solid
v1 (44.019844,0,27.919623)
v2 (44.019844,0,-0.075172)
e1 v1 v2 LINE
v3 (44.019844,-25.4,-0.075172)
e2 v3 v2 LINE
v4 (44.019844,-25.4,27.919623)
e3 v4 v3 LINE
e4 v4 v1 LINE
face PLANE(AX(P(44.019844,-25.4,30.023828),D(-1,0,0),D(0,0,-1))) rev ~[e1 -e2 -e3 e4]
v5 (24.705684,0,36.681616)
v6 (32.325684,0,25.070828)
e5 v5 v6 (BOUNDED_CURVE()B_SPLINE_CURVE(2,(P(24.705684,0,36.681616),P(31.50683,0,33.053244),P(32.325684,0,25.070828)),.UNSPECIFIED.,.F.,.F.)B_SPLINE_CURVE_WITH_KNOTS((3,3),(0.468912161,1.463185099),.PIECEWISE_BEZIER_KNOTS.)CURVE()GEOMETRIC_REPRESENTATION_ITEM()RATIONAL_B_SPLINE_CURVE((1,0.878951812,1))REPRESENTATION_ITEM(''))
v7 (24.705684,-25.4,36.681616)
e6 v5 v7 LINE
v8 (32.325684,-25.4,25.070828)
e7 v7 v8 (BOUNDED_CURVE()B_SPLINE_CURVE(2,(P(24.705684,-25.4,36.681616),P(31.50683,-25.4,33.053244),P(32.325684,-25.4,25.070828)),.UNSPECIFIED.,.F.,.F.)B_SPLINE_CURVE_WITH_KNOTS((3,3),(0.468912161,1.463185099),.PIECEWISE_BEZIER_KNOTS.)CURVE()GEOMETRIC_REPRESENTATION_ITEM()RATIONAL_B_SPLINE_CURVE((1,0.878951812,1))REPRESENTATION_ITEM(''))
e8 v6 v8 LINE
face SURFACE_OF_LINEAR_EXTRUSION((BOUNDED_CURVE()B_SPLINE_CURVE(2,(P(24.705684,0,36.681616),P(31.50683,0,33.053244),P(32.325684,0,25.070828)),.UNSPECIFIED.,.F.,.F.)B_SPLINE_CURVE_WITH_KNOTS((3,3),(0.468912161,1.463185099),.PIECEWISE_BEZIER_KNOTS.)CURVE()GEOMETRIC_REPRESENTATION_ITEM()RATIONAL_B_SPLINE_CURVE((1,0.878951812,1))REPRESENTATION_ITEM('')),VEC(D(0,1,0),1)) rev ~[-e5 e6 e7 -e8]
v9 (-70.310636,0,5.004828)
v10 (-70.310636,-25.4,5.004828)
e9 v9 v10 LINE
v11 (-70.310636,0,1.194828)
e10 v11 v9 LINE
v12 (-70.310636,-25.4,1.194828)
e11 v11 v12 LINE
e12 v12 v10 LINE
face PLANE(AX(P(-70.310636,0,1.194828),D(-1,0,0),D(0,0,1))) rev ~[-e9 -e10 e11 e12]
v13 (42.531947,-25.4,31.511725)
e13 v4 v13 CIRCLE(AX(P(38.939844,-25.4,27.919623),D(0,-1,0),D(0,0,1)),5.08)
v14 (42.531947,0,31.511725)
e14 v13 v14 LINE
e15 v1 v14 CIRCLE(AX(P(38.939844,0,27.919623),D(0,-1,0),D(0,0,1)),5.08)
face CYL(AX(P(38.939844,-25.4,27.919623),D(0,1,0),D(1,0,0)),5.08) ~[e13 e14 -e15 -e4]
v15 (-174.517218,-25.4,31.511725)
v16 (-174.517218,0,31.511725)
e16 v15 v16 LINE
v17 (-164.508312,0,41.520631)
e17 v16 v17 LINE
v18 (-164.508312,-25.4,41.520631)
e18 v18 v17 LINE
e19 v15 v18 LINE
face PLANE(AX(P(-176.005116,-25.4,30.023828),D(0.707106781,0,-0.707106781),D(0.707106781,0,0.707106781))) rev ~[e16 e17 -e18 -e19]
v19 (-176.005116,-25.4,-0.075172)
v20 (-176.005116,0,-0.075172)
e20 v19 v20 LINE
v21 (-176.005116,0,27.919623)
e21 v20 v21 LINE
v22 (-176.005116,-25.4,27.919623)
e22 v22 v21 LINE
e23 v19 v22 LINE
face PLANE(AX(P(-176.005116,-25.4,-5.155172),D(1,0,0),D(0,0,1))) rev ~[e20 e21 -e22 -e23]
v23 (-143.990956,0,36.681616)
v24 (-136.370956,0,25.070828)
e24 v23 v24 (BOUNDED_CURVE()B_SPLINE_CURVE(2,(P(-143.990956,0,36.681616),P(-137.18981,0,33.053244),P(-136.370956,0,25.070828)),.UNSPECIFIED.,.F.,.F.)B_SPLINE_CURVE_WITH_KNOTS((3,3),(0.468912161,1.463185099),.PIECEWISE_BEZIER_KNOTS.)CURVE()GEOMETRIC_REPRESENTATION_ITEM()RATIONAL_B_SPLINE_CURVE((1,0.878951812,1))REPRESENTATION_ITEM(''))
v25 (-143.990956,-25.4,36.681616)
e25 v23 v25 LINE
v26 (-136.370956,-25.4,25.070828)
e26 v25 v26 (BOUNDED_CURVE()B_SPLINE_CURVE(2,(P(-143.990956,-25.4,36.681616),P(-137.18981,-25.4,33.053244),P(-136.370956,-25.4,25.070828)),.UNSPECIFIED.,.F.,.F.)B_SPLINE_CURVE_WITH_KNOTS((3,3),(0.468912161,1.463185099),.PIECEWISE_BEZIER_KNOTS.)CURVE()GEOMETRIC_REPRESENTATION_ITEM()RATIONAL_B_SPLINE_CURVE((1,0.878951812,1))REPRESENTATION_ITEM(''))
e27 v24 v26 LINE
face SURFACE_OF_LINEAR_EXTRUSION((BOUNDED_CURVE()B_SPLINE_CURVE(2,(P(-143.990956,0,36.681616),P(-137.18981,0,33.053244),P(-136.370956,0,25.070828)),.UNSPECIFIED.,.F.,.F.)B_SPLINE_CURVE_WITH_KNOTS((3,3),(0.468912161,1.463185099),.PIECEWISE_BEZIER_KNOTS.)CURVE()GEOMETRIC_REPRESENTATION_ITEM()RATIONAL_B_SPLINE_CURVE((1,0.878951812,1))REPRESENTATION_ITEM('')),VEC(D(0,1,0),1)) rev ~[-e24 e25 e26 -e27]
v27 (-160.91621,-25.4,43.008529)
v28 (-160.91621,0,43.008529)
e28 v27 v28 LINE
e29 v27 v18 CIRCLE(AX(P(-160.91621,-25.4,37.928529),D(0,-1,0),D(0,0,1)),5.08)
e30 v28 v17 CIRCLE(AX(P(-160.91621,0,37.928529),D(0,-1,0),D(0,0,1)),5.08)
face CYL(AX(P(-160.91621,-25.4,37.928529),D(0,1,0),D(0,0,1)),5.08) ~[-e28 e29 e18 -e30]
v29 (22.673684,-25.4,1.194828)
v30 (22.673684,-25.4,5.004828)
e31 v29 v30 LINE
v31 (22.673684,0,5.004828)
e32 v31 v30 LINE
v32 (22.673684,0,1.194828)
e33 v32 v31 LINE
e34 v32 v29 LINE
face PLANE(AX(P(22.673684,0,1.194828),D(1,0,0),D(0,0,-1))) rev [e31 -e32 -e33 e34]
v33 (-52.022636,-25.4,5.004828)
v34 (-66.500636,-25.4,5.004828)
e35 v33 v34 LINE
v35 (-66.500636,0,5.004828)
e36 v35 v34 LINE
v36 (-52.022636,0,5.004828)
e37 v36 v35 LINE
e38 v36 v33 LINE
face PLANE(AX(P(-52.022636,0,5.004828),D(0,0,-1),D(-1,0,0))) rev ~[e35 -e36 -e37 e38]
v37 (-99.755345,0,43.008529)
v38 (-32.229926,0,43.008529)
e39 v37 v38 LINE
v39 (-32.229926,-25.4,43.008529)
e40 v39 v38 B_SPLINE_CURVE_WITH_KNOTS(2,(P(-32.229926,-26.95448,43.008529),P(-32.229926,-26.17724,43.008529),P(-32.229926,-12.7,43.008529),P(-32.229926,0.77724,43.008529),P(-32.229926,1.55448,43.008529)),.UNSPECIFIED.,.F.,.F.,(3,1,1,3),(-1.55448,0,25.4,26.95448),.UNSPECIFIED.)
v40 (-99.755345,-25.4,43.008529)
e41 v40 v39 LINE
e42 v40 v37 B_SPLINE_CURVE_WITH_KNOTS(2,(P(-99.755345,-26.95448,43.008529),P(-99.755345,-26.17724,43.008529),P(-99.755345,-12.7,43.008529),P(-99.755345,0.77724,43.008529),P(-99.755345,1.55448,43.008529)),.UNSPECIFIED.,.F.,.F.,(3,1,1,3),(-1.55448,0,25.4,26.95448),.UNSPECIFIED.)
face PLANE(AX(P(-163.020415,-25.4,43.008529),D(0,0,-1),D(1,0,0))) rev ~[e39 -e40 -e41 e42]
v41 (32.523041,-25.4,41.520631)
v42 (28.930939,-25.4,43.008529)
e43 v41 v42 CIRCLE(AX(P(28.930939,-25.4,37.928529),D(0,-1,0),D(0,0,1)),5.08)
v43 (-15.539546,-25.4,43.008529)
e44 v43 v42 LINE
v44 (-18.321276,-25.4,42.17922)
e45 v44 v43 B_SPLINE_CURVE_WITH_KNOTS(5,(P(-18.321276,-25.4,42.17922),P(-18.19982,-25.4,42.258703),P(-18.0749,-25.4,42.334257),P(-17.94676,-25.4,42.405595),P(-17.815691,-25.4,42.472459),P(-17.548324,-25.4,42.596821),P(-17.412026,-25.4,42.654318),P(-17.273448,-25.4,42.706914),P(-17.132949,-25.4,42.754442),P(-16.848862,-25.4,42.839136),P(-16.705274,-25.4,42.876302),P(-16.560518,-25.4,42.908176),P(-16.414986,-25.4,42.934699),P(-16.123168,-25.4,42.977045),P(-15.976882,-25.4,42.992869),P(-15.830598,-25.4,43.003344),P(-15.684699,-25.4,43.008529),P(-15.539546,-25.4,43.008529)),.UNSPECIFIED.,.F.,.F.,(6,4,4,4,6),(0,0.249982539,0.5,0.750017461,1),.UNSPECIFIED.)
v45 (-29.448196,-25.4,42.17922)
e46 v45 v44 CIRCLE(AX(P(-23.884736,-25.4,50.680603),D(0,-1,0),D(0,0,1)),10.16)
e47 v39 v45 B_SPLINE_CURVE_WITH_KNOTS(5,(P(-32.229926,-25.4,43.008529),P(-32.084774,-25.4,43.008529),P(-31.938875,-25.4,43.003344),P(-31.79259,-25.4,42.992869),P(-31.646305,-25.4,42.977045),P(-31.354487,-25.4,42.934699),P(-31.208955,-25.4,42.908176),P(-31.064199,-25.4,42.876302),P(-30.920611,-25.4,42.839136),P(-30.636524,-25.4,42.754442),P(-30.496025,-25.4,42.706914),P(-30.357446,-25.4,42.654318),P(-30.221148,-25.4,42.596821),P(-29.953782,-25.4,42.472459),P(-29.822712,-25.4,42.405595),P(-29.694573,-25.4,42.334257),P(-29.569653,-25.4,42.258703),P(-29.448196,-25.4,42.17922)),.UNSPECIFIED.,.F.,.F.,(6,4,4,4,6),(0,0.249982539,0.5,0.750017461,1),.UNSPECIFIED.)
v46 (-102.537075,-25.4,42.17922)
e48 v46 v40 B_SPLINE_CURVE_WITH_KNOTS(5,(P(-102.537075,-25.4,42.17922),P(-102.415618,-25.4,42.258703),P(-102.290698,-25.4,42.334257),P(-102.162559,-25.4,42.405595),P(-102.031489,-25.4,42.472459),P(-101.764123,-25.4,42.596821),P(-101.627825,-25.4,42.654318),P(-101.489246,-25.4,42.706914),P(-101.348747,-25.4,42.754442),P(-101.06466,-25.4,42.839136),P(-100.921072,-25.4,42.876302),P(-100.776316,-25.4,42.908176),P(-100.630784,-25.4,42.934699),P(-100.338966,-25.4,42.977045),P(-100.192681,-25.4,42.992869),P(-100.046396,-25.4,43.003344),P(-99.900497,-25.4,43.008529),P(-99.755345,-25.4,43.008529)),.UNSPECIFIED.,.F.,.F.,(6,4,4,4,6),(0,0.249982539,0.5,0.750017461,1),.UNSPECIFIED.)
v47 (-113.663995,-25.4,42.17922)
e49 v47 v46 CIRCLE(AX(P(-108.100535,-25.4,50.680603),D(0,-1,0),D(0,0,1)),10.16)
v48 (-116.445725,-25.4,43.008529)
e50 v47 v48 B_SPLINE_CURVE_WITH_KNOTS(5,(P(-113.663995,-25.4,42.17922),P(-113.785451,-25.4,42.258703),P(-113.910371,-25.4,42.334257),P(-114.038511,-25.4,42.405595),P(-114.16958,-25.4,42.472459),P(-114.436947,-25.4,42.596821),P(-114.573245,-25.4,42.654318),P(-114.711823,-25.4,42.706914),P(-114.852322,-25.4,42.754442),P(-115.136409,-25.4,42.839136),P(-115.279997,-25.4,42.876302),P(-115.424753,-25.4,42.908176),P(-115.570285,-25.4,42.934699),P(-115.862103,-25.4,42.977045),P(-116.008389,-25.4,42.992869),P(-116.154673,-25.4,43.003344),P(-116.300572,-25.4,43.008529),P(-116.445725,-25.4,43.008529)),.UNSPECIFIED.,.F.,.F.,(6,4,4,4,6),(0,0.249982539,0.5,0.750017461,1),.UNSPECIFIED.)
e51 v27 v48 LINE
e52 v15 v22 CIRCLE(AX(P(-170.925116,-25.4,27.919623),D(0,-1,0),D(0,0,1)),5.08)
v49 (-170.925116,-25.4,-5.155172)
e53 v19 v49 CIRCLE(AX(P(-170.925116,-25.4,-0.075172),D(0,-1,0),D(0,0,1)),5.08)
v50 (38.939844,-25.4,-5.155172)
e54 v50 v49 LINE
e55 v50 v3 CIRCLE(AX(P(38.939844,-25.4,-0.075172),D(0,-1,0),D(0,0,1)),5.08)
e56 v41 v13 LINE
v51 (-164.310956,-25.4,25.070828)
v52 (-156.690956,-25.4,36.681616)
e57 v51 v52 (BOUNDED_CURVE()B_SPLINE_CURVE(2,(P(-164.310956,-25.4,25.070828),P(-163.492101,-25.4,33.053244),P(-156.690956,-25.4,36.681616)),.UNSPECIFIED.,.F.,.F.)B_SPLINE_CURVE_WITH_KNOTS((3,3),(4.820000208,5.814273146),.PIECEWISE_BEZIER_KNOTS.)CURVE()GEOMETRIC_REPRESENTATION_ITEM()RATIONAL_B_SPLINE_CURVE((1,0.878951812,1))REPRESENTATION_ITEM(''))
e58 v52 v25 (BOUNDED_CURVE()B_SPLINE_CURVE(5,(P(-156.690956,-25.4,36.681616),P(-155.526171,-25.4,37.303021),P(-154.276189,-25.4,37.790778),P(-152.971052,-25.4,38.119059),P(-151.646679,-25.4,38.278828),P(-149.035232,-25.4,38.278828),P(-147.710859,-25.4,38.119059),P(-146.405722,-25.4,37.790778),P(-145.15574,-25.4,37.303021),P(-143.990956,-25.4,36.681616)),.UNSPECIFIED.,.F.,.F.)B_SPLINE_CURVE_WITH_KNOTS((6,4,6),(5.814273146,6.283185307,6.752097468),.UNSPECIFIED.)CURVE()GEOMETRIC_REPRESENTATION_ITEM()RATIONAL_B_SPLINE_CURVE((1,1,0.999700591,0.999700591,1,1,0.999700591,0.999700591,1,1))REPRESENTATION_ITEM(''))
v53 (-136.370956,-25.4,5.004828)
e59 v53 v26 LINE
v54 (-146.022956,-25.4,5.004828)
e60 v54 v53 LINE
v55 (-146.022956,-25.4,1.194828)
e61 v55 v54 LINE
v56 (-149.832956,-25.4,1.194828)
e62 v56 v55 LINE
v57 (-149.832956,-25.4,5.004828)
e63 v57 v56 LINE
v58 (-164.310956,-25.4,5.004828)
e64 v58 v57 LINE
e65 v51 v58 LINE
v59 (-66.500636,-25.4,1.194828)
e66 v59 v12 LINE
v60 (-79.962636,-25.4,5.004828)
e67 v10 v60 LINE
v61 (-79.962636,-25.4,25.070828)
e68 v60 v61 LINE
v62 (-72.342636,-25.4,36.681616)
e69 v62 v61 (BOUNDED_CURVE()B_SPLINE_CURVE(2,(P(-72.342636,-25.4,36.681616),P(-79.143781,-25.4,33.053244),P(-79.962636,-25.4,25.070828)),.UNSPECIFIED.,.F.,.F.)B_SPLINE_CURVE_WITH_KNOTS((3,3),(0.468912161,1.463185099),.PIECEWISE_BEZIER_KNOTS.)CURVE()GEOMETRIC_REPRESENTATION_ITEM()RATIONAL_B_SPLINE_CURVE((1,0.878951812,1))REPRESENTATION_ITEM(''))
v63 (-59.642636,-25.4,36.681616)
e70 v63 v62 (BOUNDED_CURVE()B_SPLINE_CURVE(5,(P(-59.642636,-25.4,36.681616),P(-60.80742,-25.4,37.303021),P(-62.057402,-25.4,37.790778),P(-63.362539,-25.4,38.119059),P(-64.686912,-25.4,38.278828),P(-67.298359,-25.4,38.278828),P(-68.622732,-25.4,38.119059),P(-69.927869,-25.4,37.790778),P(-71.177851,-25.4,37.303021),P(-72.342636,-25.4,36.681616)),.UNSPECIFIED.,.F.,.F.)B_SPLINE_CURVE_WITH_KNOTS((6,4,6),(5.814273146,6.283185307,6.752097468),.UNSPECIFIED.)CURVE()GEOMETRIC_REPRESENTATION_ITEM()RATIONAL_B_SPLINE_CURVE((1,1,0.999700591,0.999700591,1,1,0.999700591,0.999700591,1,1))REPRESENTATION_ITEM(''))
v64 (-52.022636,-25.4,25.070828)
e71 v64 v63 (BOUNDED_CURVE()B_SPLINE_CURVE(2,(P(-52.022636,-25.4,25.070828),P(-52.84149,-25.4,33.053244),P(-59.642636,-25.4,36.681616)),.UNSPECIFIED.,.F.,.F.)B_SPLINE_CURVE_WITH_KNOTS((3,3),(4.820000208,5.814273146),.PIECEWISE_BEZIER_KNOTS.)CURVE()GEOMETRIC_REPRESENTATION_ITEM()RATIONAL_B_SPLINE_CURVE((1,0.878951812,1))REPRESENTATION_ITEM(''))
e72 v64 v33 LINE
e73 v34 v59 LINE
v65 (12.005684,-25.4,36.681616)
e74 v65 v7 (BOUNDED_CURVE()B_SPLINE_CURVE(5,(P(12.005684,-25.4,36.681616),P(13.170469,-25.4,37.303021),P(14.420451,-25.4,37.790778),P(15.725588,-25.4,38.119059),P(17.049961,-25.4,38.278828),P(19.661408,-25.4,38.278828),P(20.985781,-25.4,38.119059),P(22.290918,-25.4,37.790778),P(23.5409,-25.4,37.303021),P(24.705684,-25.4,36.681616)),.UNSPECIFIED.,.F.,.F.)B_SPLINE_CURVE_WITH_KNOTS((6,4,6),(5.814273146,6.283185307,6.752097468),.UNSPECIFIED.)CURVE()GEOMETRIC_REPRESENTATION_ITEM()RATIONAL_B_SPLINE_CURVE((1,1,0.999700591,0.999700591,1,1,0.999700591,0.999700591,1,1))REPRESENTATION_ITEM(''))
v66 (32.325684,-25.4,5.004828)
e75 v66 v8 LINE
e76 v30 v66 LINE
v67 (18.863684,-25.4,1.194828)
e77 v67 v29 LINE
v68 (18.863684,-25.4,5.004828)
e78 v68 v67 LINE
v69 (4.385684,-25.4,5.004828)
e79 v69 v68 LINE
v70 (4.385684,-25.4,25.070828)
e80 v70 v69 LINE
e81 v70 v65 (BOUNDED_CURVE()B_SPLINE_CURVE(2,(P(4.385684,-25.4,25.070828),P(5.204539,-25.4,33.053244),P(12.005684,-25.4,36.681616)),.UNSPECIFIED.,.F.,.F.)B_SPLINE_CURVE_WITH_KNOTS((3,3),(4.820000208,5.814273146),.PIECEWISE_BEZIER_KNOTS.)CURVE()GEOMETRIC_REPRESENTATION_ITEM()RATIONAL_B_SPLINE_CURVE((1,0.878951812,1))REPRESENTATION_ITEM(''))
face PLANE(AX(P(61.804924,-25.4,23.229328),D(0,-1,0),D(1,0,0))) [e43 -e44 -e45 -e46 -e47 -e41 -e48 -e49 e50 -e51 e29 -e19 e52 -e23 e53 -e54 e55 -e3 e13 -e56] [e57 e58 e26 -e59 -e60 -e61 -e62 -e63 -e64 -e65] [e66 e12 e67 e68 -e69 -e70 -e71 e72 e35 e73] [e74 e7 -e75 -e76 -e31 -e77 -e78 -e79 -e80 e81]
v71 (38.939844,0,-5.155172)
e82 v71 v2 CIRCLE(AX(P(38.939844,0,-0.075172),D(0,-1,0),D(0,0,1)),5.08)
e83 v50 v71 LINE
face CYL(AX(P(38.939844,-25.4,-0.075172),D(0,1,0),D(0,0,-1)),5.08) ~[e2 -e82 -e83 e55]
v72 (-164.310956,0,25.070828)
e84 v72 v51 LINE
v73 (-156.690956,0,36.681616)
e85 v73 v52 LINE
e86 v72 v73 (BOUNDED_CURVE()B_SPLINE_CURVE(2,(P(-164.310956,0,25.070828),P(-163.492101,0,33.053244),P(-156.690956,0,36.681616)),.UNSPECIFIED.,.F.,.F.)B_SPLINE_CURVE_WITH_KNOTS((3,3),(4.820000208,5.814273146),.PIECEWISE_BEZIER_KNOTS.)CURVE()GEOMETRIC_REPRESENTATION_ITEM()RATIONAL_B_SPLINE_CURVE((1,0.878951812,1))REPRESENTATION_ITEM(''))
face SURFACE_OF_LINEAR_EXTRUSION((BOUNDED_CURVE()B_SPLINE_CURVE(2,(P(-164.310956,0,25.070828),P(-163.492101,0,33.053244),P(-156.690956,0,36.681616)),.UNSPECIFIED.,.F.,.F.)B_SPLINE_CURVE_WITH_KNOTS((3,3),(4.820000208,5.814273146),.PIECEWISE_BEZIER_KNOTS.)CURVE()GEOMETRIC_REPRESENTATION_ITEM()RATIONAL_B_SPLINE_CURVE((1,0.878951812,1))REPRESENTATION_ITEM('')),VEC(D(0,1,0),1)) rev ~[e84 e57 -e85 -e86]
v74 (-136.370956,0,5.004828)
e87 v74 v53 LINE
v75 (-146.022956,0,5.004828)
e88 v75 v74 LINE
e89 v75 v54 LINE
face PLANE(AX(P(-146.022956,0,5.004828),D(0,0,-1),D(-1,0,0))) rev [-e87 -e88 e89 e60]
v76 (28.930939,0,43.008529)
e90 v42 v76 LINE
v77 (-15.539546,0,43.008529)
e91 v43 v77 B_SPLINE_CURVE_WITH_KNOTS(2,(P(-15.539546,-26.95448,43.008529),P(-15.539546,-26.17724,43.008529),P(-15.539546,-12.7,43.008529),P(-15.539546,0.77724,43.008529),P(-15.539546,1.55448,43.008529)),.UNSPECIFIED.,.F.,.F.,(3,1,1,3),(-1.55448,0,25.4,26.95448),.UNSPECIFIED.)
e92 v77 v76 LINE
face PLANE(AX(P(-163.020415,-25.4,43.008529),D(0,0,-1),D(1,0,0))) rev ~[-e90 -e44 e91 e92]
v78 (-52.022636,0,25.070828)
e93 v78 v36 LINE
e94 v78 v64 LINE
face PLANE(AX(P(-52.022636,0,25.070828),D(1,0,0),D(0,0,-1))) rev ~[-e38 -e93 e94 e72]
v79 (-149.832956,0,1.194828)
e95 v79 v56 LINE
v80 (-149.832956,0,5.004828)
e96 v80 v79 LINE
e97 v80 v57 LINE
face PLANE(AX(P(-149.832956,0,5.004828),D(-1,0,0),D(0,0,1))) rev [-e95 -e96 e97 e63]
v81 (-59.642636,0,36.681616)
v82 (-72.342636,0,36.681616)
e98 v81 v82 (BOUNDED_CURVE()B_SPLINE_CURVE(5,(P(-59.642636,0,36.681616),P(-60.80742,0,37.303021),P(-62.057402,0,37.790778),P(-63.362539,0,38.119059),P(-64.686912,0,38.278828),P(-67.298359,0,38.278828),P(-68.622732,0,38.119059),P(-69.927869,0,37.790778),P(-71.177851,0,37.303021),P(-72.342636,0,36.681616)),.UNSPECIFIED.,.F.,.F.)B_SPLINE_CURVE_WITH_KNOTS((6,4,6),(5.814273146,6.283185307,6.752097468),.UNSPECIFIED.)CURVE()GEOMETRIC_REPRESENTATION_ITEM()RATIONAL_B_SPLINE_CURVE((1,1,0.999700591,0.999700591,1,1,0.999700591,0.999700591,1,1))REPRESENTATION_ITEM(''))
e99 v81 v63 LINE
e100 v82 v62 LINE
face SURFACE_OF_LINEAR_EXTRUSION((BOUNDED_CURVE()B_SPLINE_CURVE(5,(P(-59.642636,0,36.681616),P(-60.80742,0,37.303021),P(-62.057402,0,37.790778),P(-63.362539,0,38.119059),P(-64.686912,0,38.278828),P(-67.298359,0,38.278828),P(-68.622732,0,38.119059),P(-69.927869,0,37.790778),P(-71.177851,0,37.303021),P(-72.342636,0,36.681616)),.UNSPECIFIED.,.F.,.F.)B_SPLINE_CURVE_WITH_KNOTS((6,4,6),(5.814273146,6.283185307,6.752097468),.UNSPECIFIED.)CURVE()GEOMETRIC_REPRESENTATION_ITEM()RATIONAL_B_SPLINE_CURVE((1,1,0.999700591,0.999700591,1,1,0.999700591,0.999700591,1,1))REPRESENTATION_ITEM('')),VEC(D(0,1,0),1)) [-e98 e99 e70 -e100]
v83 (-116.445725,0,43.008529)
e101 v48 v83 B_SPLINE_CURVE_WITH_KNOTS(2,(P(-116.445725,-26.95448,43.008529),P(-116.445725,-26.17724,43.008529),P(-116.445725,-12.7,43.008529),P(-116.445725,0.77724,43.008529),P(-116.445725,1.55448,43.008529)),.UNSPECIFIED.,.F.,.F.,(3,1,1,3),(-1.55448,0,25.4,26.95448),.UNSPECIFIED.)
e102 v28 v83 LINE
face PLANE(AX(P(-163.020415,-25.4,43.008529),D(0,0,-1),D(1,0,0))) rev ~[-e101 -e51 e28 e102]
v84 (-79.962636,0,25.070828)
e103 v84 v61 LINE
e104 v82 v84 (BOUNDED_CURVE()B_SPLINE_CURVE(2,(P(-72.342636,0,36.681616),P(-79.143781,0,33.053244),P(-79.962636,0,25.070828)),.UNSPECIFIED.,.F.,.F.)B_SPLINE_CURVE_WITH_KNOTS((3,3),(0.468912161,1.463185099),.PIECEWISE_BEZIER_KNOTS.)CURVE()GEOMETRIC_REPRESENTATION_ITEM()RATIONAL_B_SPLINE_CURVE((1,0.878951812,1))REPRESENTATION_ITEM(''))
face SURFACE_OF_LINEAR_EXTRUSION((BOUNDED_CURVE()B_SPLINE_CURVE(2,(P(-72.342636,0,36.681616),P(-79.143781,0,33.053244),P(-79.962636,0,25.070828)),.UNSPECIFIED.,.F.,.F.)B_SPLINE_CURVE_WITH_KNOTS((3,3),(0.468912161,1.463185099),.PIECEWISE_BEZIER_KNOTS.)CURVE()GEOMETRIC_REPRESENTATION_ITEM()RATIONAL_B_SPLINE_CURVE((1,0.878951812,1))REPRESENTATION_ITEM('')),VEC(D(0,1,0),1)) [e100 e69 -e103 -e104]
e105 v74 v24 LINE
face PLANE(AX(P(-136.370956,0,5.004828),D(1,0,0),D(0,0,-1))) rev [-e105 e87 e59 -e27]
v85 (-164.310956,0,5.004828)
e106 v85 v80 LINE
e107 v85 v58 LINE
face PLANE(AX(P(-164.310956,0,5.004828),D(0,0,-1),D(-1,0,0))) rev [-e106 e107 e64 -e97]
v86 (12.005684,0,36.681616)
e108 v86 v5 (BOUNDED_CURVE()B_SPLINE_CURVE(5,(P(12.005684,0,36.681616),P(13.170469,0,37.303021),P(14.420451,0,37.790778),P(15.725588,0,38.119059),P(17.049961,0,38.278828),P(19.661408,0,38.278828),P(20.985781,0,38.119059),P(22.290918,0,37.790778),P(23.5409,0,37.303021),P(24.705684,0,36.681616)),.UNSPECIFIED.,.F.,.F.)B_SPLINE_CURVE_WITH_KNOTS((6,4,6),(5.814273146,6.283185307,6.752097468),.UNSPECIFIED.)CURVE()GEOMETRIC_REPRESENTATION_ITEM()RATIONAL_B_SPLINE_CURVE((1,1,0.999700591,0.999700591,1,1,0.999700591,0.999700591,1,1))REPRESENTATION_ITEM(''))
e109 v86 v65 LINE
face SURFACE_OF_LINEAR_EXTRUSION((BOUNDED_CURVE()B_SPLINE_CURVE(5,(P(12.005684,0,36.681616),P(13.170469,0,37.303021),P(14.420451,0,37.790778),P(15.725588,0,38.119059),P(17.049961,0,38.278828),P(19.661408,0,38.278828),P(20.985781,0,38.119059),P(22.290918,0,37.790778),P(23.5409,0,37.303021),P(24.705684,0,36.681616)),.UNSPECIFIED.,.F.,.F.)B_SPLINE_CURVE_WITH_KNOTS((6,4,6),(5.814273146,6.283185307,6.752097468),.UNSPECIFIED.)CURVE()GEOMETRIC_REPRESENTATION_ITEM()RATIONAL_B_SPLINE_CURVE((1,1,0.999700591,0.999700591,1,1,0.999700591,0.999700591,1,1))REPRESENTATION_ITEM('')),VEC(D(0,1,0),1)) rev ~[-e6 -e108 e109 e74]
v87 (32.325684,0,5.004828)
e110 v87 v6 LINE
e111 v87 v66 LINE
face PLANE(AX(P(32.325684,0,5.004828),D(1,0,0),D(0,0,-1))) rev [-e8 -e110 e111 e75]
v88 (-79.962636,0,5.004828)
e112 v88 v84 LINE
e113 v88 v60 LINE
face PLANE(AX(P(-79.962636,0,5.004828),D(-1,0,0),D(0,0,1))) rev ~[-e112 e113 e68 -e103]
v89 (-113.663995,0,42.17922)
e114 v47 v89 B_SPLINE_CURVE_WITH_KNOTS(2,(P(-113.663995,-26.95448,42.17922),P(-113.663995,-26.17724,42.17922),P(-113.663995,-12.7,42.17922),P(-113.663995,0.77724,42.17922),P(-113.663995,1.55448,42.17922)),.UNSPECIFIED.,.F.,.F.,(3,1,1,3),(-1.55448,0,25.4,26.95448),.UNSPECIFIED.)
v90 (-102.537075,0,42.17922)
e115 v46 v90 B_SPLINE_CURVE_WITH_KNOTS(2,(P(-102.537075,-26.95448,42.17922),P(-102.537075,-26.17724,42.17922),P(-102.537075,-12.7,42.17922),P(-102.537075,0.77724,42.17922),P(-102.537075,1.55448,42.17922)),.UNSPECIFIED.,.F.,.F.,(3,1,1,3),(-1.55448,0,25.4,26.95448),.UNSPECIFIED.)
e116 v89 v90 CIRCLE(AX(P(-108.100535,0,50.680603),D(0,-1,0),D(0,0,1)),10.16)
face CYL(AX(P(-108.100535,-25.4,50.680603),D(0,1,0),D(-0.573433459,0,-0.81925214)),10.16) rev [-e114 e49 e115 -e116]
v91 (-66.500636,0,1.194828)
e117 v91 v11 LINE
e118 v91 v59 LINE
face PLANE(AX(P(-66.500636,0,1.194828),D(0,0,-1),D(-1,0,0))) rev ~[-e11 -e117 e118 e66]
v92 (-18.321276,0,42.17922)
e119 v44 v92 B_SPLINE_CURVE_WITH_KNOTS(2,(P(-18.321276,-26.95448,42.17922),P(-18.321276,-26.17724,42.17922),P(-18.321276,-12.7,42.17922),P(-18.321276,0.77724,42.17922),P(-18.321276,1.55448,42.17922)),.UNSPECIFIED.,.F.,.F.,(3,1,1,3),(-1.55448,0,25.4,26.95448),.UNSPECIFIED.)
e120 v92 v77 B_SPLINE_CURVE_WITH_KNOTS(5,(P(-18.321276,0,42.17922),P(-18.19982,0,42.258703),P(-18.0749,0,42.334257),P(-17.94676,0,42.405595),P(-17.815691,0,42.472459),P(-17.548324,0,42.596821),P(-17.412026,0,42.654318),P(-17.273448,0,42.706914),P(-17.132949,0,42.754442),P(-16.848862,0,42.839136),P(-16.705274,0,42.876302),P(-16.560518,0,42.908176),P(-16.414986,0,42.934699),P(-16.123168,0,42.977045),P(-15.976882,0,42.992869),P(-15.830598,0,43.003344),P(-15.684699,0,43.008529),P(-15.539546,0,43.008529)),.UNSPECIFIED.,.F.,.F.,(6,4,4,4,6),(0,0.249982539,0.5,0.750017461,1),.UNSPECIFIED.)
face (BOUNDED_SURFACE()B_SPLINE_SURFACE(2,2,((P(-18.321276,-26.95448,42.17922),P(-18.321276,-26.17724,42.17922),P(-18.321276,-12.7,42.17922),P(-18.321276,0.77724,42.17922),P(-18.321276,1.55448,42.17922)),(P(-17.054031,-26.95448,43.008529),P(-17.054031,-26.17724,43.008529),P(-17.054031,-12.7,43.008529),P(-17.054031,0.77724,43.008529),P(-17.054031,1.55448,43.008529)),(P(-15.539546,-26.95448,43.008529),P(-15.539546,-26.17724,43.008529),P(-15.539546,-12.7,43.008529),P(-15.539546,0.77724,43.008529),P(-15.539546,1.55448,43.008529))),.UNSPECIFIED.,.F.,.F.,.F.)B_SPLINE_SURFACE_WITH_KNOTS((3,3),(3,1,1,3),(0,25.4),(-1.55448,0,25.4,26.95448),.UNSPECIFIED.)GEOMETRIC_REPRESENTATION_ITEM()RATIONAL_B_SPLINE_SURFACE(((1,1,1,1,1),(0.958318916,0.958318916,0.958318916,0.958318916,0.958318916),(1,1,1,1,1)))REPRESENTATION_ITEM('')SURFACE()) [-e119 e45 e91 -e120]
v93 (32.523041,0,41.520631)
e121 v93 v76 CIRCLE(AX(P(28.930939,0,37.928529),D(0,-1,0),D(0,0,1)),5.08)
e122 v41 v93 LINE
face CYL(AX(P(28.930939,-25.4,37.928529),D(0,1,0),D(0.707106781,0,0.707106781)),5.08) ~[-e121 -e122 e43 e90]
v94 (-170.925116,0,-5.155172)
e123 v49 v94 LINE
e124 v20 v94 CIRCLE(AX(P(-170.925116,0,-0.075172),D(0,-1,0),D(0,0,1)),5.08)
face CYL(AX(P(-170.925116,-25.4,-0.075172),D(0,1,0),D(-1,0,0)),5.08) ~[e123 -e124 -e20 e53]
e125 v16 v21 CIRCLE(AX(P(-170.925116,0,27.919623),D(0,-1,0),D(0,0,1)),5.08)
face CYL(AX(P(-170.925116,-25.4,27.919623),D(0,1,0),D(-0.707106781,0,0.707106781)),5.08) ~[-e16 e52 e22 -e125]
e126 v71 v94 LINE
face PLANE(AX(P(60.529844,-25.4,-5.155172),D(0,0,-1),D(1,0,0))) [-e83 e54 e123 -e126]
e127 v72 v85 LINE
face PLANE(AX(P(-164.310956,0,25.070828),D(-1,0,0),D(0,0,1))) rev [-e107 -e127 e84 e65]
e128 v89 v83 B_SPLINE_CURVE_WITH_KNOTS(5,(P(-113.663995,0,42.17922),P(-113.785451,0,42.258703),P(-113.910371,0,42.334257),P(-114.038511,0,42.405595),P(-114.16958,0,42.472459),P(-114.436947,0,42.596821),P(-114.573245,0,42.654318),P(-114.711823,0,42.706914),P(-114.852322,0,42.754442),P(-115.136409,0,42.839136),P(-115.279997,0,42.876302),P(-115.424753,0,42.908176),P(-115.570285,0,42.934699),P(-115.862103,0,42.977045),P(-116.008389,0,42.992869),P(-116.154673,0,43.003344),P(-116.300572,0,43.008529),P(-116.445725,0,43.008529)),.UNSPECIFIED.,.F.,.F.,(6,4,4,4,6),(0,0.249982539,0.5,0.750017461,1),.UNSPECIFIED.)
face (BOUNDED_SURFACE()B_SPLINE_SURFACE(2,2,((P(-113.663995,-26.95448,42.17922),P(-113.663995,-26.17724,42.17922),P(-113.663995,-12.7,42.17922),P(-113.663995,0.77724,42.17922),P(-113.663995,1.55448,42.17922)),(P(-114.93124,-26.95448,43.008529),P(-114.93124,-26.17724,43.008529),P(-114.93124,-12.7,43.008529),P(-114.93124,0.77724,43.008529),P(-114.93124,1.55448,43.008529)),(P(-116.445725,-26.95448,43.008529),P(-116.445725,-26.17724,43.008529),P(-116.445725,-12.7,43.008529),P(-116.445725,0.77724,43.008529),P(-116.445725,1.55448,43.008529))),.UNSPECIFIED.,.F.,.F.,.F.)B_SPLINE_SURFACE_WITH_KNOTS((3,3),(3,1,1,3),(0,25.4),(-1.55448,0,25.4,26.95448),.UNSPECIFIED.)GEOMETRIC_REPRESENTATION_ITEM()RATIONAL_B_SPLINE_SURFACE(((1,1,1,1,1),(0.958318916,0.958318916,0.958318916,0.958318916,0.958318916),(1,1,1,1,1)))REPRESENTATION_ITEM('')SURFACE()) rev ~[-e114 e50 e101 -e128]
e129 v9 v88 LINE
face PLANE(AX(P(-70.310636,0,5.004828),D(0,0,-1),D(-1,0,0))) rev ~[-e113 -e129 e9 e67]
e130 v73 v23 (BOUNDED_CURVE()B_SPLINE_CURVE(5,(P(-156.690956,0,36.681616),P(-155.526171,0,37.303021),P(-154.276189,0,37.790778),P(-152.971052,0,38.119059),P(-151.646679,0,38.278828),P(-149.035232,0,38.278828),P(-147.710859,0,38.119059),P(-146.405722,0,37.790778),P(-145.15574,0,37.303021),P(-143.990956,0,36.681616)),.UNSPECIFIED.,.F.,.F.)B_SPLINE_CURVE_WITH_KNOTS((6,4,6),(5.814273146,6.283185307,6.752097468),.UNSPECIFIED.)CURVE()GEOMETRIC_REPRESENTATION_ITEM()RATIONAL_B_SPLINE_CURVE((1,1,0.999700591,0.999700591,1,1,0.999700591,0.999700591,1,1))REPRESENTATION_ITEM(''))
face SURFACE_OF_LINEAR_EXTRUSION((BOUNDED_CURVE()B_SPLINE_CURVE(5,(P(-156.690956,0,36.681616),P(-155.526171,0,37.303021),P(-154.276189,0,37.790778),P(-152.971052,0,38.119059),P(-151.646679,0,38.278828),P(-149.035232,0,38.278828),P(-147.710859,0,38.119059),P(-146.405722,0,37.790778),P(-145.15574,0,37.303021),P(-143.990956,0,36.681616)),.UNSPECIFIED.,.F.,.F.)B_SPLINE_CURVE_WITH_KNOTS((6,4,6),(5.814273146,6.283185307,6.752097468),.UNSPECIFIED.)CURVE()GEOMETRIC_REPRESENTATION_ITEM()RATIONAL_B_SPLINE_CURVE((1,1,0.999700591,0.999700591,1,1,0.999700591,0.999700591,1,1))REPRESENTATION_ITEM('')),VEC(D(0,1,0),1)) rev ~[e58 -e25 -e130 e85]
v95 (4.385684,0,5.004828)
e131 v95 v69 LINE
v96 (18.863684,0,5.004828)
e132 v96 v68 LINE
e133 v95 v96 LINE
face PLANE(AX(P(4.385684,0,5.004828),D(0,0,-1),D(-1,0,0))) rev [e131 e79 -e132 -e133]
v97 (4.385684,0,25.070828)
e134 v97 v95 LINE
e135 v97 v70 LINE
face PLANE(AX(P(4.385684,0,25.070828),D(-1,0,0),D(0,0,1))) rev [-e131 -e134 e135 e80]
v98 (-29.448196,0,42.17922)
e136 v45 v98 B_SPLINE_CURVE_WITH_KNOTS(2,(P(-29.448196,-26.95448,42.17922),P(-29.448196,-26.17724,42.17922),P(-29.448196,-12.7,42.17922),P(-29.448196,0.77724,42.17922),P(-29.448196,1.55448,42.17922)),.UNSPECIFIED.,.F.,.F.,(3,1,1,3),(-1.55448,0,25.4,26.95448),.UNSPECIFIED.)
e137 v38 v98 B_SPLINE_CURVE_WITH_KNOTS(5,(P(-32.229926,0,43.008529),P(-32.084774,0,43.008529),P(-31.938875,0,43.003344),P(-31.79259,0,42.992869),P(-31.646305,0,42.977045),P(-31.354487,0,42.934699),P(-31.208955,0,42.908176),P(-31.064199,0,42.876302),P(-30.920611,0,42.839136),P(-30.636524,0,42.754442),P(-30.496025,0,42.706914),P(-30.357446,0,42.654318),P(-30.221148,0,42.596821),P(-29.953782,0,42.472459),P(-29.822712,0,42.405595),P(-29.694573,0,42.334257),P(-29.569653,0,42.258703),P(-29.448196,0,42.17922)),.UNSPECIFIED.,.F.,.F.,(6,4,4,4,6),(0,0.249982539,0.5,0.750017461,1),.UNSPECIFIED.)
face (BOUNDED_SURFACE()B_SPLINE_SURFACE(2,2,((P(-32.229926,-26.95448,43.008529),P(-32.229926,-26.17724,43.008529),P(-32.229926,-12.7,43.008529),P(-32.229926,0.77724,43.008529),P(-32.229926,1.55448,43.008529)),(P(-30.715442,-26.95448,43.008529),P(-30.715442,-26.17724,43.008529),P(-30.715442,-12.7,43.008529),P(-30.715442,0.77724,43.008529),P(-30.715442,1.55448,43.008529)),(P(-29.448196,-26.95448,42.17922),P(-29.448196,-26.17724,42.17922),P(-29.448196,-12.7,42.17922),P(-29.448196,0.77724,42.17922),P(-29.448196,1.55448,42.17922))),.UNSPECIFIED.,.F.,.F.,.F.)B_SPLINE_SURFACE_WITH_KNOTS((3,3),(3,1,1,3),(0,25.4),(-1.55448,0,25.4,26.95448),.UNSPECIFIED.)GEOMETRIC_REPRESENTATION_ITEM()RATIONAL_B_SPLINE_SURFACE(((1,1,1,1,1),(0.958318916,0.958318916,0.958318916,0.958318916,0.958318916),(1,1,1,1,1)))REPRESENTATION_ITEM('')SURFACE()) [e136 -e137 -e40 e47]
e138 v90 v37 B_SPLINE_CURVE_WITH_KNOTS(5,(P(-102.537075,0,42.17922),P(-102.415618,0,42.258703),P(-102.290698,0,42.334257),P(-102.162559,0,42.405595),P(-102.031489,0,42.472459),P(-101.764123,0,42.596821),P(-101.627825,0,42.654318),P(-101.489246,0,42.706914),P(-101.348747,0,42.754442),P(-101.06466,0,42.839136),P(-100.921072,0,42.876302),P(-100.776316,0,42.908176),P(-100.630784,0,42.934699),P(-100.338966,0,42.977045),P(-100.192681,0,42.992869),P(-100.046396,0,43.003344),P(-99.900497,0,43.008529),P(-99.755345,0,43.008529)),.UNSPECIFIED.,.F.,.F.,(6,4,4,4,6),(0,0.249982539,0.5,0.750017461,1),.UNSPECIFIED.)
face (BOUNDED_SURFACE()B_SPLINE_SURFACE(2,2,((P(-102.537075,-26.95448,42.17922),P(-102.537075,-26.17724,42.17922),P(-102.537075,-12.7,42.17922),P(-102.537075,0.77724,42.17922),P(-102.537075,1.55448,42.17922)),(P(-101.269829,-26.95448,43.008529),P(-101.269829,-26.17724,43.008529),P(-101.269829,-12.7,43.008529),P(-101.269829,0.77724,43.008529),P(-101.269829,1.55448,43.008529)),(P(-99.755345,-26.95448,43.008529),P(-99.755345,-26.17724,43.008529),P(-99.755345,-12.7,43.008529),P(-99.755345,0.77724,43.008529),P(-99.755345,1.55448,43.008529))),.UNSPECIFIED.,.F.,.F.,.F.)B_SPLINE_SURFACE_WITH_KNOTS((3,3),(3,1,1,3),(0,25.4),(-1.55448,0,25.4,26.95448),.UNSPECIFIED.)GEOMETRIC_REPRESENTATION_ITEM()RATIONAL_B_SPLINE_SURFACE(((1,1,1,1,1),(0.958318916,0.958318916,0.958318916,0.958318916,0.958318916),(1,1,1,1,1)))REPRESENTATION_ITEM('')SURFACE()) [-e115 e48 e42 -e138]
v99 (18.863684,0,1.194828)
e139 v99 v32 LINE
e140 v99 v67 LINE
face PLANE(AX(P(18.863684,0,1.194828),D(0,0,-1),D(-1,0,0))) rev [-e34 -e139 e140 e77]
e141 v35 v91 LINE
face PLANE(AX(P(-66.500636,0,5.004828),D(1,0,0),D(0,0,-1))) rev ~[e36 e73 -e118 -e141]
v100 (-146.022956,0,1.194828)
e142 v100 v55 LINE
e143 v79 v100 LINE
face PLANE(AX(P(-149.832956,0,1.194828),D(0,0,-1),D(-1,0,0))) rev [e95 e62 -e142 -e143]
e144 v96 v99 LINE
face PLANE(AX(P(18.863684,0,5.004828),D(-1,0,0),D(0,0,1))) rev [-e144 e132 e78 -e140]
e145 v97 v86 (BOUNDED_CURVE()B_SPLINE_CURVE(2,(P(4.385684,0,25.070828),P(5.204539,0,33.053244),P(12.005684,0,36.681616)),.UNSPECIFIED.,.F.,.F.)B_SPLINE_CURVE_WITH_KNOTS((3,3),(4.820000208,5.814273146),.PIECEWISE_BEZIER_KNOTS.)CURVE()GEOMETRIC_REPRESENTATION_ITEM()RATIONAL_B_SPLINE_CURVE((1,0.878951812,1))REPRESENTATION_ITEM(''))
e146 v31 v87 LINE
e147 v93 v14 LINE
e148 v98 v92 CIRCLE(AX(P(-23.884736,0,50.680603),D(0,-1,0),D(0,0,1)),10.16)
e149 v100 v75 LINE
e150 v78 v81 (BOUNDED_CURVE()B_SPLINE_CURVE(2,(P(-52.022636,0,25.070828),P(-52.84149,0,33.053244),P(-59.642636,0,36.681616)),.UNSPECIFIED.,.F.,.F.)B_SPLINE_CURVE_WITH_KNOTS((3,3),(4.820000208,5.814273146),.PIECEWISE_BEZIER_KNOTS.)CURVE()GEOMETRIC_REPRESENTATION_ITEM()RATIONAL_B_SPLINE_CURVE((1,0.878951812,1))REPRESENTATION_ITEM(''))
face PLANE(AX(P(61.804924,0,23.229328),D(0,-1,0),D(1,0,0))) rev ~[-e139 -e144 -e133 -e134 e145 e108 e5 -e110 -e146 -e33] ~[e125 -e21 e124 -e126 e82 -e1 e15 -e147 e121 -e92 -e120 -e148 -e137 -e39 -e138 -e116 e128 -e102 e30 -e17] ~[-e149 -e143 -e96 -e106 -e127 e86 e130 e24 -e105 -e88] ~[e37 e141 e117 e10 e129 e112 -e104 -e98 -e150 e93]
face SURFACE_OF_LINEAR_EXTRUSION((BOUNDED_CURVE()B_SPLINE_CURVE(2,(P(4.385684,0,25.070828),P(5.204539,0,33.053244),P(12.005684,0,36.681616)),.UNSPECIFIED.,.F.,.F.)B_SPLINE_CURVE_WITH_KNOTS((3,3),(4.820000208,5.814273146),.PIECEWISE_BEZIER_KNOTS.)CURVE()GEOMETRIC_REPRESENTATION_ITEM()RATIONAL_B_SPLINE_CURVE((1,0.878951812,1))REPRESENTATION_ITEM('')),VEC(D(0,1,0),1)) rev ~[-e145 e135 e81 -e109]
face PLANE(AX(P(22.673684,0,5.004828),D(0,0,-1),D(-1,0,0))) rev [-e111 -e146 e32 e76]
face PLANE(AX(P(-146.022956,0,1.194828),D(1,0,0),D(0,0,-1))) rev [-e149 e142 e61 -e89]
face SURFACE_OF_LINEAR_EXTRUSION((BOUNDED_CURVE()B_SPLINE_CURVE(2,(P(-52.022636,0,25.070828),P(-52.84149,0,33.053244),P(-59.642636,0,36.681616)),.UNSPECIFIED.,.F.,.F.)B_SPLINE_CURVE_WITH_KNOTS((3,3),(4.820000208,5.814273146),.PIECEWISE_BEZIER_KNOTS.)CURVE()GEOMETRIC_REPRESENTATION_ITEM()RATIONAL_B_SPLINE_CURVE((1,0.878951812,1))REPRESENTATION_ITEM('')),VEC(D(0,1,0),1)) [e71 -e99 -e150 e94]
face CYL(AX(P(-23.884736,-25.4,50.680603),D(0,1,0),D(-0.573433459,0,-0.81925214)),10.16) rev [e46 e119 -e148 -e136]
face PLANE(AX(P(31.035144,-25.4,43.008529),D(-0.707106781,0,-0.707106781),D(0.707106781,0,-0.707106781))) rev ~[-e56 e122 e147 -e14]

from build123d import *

# Parameters (mm, degrees)
F0_W      = 79.248
F0_H      = 56.769
F1_DEPTH  = 25.4
F2_W      = 2.55016
F2_H      = 56.769
F3_DEPTH  = 25.4
F7_W      = 84.34832
F7_H      = 56.769
F8_DEPTH  = 25.4010001
F10_DEPTH = 25.4010001
F12_DEPTH = 25.4010001
F13_R     = 10.16
F14_R     = 5.08


with BuildPart() as f1:
    # F0 (on Front) → F1 (new body)
    with BuildSketch(Plane.XZ):
        with Locations((-65.9926355079, 23.2293278964)):
            Rectangle(F0_W, F0_H)
        with BuildLine():
            Line((-52.0226355079, 25.0708278964), (-52.0226355079, 5.0048278964))
            Line((-52.0226355079, 5.0048278964), (-66.5006355079, 5.0048278964))
            Line((-66.5006355079, 5.0048278964), (-66.5006355079, 1.1948278964))
            Line((-66.5006355079, 1.1948278964), (-70.3106355079, 1.1948278964))
            Line((-70.3106355079, 1.1948278964), (-70.3106355079, 5.0048278964))
            Line((-70.3106355079, 5.0048278964), (-79.9626355079, 5.0048278964))
            Line((-79.9626355079, 5.0048278964), (-79.9626355079, 25.0708278964))
            add(Edge.make_bspline(
                [(-72.3426355079, 36.6816155863), (-79.143780816, 33.0532444332), (-79.9626355079, 25.0708278964)],
                knots=[0.4689121613, 0.4689121613, 0.4689121613, 1.4631850988, 1.4631850988, 1.4631850988], degree=2, weights=[1, 0.878951812, 1]))
            add(Edge.make_bspline(
                [(-65.9926355079, 38.2788278964), (-69.3487651043, 38.2788278964), (-72.3426355079, 36.6816155863)],
                knots=[0, 0, 0, 0.4689121613, 0.4689121613, 0.4689121613], degree=2, weights=[1, 0.9726408453, 1]))
            add(Edge.make_bspline(
                [(-59.6426355079, 36.6816155863), (-62.6365059115, 38.2788278964), (-65.9926355079, 38.2788278964)],
                knots=[5.8142731459, 5.8142731459, 5.8142731459, 6.2831853072, 6.2831853072, 6.2831853072], degree=2, weights=[1, 0.9726408453, 1]))
            add(Edge.make_bspline(
                [(-52.0226355079, 25.0708278964), (-52.8414901998, 33.0532444332), (-59.6426355079, 36.6816155863)],
                knots=[4.8200002084, 4.8200002084, 4.8200002084, 5.8142731459, 5.8142731459, 5.8142731459], degree=2, weights=[1, 0.878951812, 1]))
        make_face(mode=Mode.SUBTRACT)
    extrude(amount=F1_DEPTH)

    # F2 (on face) → F3 (join, through all)
    with BuildSketch(Plane.XZ.offset(25.4)):
        with Locations((-106.8917155079, 23.2293278964)):
            Rectangle(F2_W, F2_H)
        with Locations((-25.0935555079, 23.2293278964)):
            Rectangle(F2_W, F2_H)
    extrude(amount=-F3_DEPTH)

    # F4: F1 across face


with BuildPart() as f1_1:
    add(f1.part)
    add(f1.part.mirror(Plane(origin=(-108.1667955079, -12.7, 23.2293278964), x_dir=(0, -1, 0), z_dir=(-1, 0, 0))))

    # F5: F1 across face


with BuildPart() as f1_2:
    add(f1_1.part)
    add(f1_1.part.mirror(Plane(origin=(-23.8184755079, -12.7, 23.2293278964), x_dir=(0, 1, 0), z_dir=(1, 0, 0))))

    # F7 (on face) → F8 (cut, through all)
    with BuildSketch(Plane.XZ.offset(25.4)):
        with Locations((102.7040044921, 23.2293278964)):
            Rectangle(F7_W, F7_H)
    extrude(amount=-F8_DEPTH, mode=Mode.SUBTRACT)

    # F9 (on face) → F10 (cut, through all)
    with BuildSketch(Plane.XZ.offset(25.4)):
        Polygon((60.5298444921, -5.1551721036), (60.5298444921, 51.6138278964), (44.0198444921, 51.6138278964), (-176.0051155079, 51.6138278964), (-192.5151155079, 51.6138278964), (-192.5151155079, -5.1551721036), (-176.0051155079, -5.1551721036), (-176.0051155079, 30.0238278964), (-163.0204147545, 43.0085286498), (-133.5769593716, 43.0085286498), (31.0351437387, 43.0085286498), (44.0198444921, 30.0238278964), (44.0198444921, -5.1551721036), align=None)
    extrude(amount=-F10_DEPTH, mode=Mode.SUBTRACT)

    # F11 (on face) → F12 (cut, through all)
    with BuildSketch(Plane.XZ.offset(25.4)):
        Polygon((-30.6416433652, 43.0085286498), (-23.8847362613, 38.2790486498), (-17.1278291575, 43.0085286498), align=None)
        Polygon((-114.8574418583, 43.0085286498), (-108.1005347545, 38.2790486498), (-101.3436276506, 43.0085286498), align=None)
    extrude(amount=-F12_DEPTH, mode=Mode.SUBTRACT)

    # F13
    f13_edges = [f1_2.edges().sort_by_distance(p)[0] for p in [
        (-23.884736, -12.7, 38.279049),
        (-108.100535, -12.7, 38.279049),
    ]]
    fillet(f13_edges, radius=F13_R)

    # F14
    f14_edges = [f1_2.edges().sort_by_distance(p)[0] for p in [
        (-17.127829, -12.7, 43.008529),
        (-30.641643, -12.7, 43.008529),
        (-101.343628, -12.7, 43.008529),
        (-114.857442, -12.7, 43.008529),
        (-163.020415, -12.7, 43.008529),
        (-176.005116, -12.7, 30.023828),
        (31.035144, -12.7, 43.008529),
        (44.019844, -12.7, 30.023828),
        (44.019844, -12.7, -5.155172),
        (-176.005116, -12.7, -5.155172),
    ]]
    fillet(f14_edges, radius=F14_R)


solid = f1_2.part
